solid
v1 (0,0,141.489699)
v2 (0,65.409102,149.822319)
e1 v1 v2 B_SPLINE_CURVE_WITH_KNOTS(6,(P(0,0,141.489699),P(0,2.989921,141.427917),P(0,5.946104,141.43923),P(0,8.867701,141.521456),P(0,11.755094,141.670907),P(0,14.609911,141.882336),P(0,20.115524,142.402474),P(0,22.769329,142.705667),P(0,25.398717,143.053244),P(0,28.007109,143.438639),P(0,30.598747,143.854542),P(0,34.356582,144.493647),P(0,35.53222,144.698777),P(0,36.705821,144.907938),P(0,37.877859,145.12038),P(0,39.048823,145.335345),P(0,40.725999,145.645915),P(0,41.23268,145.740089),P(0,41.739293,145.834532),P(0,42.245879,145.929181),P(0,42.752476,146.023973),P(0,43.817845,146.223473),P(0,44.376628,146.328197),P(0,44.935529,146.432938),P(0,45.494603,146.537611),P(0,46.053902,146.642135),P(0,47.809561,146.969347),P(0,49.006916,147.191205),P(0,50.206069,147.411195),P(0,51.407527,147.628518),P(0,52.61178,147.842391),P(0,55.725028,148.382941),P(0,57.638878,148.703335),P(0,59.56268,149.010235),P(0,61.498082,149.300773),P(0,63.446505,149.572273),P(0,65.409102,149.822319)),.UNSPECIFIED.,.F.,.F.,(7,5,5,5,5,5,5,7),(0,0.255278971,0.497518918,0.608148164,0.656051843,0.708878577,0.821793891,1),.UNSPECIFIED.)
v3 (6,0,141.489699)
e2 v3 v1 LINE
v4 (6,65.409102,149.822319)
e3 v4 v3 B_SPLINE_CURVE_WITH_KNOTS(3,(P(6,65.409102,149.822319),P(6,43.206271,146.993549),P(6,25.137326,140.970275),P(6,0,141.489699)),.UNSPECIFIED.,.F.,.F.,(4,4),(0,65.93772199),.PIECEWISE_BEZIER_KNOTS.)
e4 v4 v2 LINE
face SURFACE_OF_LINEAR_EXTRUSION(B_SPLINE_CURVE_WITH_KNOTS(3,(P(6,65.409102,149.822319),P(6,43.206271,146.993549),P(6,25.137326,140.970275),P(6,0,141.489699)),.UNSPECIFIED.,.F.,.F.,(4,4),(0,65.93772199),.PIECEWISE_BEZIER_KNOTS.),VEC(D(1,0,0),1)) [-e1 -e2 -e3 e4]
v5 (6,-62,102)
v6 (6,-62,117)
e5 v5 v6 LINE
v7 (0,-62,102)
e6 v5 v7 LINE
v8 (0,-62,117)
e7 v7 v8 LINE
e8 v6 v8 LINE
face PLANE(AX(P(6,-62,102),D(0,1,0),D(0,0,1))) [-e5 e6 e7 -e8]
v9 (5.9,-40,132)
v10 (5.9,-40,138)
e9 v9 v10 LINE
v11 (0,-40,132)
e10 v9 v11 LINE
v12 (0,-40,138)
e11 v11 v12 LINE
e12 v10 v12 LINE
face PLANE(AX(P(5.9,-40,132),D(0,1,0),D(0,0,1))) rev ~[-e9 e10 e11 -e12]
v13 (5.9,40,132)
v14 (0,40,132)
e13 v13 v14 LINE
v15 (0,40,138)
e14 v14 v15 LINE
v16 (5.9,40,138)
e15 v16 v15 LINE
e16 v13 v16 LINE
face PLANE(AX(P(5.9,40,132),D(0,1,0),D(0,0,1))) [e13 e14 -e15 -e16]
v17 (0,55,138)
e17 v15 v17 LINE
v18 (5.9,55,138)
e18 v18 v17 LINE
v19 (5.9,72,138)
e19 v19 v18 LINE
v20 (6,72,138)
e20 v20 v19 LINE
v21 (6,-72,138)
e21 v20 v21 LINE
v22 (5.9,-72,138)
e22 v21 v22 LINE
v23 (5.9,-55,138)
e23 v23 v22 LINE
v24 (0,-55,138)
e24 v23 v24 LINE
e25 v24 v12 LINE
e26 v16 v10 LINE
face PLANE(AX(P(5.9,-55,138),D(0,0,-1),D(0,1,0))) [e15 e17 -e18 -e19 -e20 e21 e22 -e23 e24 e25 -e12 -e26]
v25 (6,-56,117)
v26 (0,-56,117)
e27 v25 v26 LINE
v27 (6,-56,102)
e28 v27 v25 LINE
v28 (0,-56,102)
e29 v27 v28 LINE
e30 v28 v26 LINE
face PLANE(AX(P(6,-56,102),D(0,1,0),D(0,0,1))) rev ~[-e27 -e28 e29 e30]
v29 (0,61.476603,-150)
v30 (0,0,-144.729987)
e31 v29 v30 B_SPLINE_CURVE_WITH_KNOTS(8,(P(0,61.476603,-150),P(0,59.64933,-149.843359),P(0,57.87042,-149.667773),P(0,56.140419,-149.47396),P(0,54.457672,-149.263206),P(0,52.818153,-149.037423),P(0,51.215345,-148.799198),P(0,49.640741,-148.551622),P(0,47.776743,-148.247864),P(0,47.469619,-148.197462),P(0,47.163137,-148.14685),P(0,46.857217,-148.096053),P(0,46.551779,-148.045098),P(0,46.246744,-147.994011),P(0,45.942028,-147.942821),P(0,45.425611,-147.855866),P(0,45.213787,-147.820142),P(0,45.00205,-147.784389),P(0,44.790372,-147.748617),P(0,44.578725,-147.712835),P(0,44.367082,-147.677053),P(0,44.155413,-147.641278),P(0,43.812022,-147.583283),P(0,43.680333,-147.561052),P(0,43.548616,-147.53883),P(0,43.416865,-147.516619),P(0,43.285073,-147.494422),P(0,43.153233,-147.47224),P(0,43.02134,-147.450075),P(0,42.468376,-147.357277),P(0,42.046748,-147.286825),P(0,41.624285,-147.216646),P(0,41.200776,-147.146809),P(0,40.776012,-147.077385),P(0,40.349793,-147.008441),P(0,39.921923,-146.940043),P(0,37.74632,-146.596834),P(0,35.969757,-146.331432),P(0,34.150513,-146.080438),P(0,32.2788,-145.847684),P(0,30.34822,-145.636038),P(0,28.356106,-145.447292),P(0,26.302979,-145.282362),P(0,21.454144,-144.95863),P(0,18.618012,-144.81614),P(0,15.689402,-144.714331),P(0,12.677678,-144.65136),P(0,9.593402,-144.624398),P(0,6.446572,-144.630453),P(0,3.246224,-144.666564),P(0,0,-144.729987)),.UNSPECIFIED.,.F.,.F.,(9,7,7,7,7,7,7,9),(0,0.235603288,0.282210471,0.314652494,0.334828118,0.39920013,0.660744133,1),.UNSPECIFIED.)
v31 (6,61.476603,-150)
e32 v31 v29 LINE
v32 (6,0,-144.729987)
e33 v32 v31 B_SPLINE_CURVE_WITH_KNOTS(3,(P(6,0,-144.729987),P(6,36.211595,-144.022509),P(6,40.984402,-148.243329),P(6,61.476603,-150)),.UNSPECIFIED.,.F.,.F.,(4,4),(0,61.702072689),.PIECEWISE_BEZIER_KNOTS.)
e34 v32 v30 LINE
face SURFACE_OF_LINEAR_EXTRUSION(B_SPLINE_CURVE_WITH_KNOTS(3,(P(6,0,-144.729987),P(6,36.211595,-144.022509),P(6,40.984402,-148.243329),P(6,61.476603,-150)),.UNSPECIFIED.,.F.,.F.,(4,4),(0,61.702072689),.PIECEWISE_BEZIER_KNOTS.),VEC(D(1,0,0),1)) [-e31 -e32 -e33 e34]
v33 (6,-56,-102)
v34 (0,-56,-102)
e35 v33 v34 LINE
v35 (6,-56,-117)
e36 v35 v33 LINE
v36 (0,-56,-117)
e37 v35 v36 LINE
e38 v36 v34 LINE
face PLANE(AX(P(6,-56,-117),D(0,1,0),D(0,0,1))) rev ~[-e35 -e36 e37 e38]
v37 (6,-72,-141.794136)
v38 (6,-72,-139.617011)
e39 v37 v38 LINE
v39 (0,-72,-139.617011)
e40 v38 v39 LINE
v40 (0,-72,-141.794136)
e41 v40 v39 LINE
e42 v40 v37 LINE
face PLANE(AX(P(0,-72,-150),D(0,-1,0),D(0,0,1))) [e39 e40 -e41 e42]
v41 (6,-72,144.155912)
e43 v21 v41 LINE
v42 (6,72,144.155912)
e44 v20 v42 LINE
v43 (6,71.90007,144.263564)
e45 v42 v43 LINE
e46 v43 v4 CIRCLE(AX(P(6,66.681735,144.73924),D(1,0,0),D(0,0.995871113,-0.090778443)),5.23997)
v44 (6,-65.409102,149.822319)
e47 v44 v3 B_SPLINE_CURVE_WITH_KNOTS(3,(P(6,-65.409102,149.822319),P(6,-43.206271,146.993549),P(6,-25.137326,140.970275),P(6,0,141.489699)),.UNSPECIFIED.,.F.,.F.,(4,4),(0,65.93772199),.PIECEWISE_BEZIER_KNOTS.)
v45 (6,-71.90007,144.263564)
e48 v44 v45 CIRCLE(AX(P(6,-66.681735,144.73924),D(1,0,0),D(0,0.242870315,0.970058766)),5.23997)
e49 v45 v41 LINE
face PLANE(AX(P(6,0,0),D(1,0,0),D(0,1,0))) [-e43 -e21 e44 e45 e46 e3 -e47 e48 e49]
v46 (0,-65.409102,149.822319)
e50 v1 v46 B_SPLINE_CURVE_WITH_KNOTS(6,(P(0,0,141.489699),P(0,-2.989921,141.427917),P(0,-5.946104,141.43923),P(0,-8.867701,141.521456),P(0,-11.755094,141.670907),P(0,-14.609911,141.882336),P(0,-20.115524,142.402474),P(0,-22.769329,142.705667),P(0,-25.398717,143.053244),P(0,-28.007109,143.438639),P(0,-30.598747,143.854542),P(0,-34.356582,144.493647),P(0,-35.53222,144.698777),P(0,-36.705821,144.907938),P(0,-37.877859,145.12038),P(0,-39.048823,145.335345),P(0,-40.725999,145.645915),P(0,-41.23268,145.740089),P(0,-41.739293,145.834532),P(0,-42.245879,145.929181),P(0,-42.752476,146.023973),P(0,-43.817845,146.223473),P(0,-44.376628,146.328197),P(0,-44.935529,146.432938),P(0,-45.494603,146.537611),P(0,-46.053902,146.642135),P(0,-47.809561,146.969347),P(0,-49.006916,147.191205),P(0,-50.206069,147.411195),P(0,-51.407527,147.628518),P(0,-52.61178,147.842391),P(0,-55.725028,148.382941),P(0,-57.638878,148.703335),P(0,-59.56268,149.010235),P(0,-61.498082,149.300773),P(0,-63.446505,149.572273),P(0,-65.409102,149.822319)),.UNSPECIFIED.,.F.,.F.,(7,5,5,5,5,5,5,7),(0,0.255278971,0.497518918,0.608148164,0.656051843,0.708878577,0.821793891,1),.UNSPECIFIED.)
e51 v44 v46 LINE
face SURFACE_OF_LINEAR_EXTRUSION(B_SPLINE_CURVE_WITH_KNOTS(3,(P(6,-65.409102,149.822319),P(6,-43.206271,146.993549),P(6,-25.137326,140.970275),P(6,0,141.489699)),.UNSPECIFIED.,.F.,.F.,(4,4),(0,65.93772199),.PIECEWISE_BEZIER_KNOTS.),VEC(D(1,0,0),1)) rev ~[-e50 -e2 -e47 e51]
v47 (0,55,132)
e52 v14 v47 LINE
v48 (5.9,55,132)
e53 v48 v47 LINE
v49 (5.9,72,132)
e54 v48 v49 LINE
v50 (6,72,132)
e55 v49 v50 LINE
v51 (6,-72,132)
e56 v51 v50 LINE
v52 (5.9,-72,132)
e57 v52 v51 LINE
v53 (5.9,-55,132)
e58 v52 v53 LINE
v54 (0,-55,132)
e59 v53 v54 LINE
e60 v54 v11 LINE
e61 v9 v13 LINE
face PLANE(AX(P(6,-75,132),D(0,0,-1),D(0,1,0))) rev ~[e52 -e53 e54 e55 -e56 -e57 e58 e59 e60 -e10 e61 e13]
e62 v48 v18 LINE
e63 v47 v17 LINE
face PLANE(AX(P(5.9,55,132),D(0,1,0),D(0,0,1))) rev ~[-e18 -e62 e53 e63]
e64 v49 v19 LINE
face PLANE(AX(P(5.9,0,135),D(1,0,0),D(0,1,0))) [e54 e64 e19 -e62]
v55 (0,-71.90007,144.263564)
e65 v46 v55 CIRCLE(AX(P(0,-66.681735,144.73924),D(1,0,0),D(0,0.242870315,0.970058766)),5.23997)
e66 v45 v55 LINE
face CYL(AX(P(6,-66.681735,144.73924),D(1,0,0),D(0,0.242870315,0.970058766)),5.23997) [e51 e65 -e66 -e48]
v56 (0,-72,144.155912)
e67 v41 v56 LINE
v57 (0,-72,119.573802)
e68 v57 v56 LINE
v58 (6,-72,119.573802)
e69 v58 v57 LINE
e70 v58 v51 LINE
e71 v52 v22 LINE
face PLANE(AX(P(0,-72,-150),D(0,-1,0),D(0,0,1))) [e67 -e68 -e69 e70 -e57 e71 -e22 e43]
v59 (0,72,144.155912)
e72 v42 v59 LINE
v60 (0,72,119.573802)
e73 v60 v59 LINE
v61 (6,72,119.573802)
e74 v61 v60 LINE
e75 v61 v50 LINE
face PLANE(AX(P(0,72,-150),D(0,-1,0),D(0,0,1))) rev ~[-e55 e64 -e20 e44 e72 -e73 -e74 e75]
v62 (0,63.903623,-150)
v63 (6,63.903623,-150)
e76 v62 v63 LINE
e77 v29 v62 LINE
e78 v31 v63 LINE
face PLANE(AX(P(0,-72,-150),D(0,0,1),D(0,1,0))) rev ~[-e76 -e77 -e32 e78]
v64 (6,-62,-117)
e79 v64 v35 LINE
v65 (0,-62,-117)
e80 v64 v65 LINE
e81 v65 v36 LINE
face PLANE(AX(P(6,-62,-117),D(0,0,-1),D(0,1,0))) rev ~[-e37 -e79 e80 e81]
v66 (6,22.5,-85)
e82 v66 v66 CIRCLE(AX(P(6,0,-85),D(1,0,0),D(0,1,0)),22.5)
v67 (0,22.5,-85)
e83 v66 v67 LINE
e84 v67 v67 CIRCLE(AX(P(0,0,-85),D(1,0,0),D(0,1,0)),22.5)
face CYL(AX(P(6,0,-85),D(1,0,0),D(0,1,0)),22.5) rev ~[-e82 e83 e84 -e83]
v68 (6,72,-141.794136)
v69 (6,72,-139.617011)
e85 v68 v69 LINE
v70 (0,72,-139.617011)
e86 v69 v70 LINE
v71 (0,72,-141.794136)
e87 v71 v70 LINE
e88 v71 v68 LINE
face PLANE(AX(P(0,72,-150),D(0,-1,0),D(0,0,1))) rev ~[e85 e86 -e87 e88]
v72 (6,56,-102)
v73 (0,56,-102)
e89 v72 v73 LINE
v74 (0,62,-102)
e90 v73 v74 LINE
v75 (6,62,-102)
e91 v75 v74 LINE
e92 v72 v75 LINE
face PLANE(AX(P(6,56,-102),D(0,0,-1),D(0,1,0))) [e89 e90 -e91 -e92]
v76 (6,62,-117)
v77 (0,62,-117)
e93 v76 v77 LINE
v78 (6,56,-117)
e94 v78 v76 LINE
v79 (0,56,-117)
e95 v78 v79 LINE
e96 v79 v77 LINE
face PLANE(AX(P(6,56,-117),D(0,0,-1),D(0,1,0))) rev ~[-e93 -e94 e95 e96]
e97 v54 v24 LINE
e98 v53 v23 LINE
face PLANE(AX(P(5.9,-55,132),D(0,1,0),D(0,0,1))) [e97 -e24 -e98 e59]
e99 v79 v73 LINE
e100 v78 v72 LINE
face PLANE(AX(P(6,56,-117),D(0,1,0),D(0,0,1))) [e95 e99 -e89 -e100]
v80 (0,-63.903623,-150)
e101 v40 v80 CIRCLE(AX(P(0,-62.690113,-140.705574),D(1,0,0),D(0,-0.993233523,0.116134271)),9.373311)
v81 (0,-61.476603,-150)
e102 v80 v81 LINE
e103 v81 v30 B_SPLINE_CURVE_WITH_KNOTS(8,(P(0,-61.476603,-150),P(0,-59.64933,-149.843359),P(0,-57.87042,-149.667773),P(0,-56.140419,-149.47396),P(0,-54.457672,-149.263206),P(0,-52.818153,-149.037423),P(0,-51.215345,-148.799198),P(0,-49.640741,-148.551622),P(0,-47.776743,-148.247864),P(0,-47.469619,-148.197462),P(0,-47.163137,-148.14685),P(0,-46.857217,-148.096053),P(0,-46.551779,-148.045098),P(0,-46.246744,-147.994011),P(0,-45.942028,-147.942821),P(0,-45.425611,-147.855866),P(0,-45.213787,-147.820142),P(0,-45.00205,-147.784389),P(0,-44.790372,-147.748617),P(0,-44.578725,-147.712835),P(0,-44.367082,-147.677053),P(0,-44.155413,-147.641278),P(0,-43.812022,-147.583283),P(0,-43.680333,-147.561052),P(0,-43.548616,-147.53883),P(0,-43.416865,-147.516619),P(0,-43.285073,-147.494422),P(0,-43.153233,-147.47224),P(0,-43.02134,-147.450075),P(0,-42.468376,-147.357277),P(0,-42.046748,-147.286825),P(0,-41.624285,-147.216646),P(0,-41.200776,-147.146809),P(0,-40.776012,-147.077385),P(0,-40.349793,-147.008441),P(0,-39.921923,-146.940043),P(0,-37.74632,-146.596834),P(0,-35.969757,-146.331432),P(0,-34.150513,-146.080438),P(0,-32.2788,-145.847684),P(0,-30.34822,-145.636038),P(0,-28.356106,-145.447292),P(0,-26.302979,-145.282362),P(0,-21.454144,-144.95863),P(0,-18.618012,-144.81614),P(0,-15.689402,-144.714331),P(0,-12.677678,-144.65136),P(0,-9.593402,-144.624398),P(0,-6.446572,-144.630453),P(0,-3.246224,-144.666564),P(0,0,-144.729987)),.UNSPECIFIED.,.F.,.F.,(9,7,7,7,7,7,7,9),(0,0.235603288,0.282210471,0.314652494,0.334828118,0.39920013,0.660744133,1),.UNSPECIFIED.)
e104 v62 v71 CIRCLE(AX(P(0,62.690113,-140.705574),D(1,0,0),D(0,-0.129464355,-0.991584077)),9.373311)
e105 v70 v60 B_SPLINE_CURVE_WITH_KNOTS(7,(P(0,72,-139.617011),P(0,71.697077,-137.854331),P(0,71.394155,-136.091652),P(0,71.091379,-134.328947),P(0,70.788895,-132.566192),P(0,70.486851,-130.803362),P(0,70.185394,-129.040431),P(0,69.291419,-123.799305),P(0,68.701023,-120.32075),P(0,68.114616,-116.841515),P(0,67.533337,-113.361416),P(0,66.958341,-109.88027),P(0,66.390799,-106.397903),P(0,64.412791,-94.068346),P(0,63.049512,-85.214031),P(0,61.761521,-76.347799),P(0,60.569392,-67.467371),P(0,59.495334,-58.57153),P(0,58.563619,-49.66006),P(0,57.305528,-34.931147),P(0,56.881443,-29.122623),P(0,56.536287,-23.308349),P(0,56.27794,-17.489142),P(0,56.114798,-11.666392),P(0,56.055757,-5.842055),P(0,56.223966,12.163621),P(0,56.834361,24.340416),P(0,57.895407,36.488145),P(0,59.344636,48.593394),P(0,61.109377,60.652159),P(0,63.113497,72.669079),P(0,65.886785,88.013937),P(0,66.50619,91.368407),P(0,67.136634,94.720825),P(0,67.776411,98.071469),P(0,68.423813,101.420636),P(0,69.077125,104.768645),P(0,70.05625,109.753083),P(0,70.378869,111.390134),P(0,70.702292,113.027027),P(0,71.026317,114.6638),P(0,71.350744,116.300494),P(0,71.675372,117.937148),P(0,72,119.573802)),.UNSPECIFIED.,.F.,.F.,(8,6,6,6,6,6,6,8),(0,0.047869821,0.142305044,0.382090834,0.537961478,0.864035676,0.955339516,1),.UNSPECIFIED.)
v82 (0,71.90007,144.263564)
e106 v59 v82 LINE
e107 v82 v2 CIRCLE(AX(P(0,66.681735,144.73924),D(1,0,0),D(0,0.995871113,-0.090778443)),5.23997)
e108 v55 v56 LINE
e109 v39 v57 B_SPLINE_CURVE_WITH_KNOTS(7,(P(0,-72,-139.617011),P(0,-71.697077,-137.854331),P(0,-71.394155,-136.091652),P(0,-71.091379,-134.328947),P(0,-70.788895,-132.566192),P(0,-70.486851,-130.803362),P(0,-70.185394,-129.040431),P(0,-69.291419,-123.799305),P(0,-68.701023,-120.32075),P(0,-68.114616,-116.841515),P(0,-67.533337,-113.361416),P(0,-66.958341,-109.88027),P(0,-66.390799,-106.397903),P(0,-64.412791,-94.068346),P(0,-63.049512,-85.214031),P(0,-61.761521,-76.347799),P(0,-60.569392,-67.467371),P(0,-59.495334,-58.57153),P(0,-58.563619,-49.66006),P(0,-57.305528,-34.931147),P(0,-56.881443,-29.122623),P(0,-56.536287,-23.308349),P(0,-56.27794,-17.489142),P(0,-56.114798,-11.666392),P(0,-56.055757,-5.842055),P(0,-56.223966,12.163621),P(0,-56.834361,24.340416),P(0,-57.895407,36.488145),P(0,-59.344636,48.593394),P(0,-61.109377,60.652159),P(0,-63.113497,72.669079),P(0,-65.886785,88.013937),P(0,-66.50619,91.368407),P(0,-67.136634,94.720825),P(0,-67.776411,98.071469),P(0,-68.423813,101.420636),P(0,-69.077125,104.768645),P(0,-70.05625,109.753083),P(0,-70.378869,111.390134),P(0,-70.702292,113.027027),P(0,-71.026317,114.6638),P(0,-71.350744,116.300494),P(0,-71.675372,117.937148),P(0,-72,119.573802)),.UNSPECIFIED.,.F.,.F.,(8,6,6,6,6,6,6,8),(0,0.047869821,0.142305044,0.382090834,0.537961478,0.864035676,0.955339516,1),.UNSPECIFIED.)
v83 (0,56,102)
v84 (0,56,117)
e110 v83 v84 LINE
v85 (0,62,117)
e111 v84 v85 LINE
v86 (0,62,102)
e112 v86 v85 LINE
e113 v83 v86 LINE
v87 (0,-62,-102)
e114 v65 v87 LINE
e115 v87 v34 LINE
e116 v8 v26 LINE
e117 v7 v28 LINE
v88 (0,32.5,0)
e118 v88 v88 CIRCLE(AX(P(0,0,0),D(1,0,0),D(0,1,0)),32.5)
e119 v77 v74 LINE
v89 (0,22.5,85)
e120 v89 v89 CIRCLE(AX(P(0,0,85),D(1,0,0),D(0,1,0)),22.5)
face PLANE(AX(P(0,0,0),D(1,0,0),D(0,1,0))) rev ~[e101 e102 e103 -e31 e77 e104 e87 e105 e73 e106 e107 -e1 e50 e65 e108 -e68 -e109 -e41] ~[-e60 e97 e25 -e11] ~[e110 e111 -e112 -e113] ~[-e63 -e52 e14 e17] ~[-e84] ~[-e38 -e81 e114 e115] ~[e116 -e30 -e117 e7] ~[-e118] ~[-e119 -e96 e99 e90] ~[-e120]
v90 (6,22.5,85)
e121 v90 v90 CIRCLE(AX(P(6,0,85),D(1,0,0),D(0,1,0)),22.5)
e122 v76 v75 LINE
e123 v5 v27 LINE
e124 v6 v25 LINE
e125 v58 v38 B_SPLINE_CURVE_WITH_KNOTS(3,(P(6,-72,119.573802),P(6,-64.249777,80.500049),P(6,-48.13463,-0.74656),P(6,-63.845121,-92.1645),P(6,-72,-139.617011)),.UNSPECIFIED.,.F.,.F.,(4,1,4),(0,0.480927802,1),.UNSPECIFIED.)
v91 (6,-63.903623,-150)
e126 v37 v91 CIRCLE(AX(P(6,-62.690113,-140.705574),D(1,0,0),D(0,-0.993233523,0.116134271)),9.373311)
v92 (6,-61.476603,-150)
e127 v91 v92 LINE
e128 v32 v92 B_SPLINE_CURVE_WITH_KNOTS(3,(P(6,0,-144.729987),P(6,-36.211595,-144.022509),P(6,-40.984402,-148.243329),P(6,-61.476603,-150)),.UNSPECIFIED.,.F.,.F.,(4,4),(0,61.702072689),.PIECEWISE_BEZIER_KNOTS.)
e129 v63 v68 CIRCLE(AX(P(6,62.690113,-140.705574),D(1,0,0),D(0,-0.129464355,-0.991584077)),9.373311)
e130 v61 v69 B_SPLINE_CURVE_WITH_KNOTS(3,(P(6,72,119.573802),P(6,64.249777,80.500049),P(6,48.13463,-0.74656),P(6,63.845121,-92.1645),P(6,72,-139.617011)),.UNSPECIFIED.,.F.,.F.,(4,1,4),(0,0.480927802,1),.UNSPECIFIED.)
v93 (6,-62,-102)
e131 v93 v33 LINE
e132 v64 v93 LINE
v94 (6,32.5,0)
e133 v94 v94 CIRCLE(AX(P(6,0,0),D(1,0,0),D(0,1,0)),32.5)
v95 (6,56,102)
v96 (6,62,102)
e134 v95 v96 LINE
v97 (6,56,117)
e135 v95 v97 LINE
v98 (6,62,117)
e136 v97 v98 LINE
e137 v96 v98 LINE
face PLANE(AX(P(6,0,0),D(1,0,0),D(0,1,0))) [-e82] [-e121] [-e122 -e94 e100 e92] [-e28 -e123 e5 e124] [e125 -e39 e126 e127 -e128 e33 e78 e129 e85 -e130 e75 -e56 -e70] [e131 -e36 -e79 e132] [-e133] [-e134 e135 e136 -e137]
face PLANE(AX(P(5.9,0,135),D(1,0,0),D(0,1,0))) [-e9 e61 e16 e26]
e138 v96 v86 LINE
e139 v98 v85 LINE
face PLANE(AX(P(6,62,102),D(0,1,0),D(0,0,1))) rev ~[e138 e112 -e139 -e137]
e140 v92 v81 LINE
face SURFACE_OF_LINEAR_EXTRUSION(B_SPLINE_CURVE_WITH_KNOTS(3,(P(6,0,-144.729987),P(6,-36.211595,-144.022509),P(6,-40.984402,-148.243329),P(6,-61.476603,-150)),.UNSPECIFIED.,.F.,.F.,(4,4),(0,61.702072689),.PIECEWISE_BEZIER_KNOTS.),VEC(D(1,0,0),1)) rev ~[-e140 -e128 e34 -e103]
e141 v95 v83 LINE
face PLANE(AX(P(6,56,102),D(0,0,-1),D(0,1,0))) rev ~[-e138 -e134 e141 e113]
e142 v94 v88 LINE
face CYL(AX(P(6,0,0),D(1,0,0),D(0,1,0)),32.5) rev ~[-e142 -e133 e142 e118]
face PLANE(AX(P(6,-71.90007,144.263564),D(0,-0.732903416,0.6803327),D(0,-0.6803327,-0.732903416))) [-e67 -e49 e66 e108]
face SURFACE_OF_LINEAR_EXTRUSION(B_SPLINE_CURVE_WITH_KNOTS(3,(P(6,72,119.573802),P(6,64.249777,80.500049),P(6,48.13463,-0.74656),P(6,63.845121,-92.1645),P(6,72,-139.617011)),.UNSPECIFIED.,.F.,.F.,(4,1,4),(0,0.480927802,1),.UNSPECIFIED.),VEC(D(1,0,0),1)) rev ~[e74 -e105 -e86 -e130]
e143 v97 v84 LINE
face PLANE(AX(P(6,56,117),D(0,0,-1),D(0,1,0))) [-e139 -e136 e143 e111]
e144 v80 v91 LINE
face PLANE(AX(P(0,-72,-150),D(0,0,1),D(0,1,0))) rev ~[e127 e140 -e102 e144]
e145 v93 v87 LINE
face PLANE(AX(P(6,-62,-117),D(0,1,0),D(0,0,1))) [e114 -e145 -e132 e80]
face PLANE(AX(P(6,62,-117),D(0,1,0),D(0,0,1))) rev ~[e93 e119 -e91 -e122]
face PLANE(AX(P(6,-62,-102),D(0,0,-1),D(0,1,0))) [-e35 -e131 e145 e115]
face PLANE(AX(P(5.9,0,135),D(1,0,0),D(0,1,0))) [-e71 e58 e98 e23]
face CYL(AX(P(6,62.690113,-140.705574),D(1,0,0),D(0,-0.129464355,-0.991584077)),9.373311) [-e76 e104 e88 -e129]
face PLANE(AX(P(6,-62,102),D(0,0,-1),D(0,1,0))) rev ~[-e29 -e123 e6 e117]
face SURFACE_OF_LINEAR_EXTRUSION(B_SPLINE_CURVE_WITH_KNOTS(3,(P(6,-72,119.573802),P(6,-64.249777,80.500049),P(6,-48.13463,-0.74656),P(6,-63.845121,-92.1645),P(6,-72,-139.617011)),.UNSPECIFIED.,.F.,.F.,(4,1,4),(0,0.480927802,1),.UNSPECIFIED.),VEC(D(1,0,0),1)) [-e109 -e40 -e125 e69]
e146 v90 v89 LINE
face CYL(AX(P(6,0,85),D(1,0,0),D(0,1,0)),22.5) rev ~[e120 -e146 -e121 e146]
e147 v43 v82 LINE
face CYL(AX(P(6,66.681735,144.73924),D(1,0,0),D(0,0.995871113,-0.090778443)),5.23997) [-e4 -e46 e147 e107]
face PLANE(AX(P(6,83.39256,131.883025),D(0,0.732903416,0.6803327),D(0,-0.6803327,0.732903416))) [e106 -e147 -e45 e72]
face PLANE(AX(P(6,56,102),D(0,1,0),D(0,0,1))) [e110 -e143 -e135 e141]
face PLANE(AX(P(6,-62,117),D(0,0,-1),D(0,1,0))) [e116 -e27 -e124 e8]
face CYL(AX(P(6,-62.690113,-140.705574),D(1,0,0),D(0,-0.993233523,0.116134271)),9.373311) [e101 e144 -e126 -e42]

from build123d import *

# Parameters (mm, degrees)
F0_W     = 144
F0_H     = 300
F1_DEPTH = 6
F3_DEPTH = 0.1
F4_R     = 22.5
F4_R_2   = 32.5
F5_DEPTH = 25
F6_W     = 15
F6_H     = 6
F7_DEPTH = 25
F8_W     = 6
F8_H     = 15
F9_DEPTH = 25


with BuildPart() as f1:
    # F0 (on Right) → F1 (new body)
    with BuildSketch(Plane.YZ):
        Rectangle(F0_W, F0_H)
    extrude(amount=F1_DEPTH)

    # F2 (on face) → F3 (cut)
    with BuildSketch(Plane.YZ.offset(6)):
        Polygon((-75, 132), (75, 132), (75, 138), (0, 138), (-75, 138), align=None)
    extrude(amount=-F3_DEPTH, mode=Mode.SUBTRACT)

    # F4 (on face) → F5 (intersect)
    with BuildSketch(Plane.YZ.offset(6)):
        with BuildLine():
            add(Edge.make_bspline(
                [(-72, 119.5738017559), (-64.2497774345, 80.5000488248), (-48.1346297131, -0.7465599275), (-63.8451208348, -92.1644998818), (-72, -139.617010951)],
                knots=[0, 0, 0, 0, 0.4809278016, 1, 1, 1, 1], degree=3))
            ThreePointArc((-72, -139.617010951), (-69.2733831197, -147.3778685956), (-61.4766031504, -150))
            add(Edge.make_bspline(
                [(0, -144.7299867868), (-36.2115949392, -144.0225094557), (-40.9844021002, -148.2433289289), (-61.4766031504, -150)],
                knots=[0, 0, 0, 0, 61.7020726895, 61.7020726895, 61.7020726895, 61.7020726895], degree=3))
            add(Edge.make_bspline(
                [(0, -144.7299867868), (36.2115949392, -144.0225094557), (40.9844021002, -148.2433289289), (61.4766031504, -150)],
                knots=[0, 0, 0, 0, 61.7020726895, 61.7020726895, 61.7020726895, 61.7020726895], degree=3))
            ThreePointArc((61.4766031504, -150), (69.2733831197, -147.3778685956), (72, -139.617010951))
            add(Edge.make_bspline(
                [(72, 119.5738017559), (64.2497774345, 80.5000488248), (48.1346297131, -0.7465599275), (63.8451208348, -92.1644998818), (72, -139.617010951)],
                knots=[0, 0, 0, 0, 0.4809278016, 1, 1, 1, 1], degree=3))
            Line((72, 119.5738017559), (83.392560482, 131.8830251694))
            Line((83.392560482, 131.8830251694), (71.9000700982, 144.2635640774))
            ThreePointArc((71.9000700982, 144.2635640774), (70.0901190751, 148.7192160834), (65.4091020209, 149.8223193611))
            add(Edge.make_bspline(
                [(65.4091020209, 149.8223193611), (43.2062713991, 146.9935488104), (25.1373257488, 140.970274806), (0, 141.4896994829)],
                knots=[0, 0, 0, 0, 65.9377219898, 65.9377219898, 65.9377219898, 65.9377219898], degree=3))
            add(Edge.make_bspline(
                [(-65.4091020209, 149.8223193611), (-43.2062713991, 146.9935488104), (-25.1373257488, 140.970274806), (0, 141.4896994829)],
                knots=[0, 0, 0, 0, 65.9377219898, 65.9377219898, 65.9377219898, 65.9377219898], degree=3))
            ThreePointArc((-65.4091020209, 149.8223193611), (-70.0901190751, 148.7192160834), (-71.9000700982, 144.2635640774))
            Line((-71.9000700982, 144.2635640774), (-83.392560482, 131.8830251694))
            Line((-83.392560482, 131.8830251694), (-72, 119.5738017559))
        make_face()
        with Locations((0, -85)):
            Circle(F4_R, mode=Mode.SUBTRACT)
        Circle(F4_R_2, mode=Mode.SUBTRACT)
        with Locations((0, 85)):
            Circle(F4_R, mode=Mode.SUBTRACT)
    extrude(amount=-F5_DEPTH, mode=Mode.INTERSECT)

    # F6 (on face) → F7 (cut)
    with BuildSketch(Plane.YZ.offset(5.9)):
        with Locations((-47.5, 135)):
            Rectangle(F6_W, F6_H)
        with Locations((47.5, 135)):
            Rectangle(F6_W, F6_H)
    extrude(amount=-F7_DEPTH, mode=Mode.SUBTRACT)

    # F8 (on face) → F9 (cut)
    with BuildSketch(Plane.YZ.offset(6)):
        with Locations((59, 109.5)):
            Rectangle(F8_W, F8_H)
        with Locations((59, -109.5)):
            Rectangle(F8_W, F8_H)
        with Locations((-59, 109.5)):
            Rectangle(F8_W, F8_H)
        with Locations((-59, -109.5)):
            Rectangle(F8_W, F8_H)
    extrude(amount=-F9_DEPTH, mode=Mode.SUBTRACT)


solid = f1.part
